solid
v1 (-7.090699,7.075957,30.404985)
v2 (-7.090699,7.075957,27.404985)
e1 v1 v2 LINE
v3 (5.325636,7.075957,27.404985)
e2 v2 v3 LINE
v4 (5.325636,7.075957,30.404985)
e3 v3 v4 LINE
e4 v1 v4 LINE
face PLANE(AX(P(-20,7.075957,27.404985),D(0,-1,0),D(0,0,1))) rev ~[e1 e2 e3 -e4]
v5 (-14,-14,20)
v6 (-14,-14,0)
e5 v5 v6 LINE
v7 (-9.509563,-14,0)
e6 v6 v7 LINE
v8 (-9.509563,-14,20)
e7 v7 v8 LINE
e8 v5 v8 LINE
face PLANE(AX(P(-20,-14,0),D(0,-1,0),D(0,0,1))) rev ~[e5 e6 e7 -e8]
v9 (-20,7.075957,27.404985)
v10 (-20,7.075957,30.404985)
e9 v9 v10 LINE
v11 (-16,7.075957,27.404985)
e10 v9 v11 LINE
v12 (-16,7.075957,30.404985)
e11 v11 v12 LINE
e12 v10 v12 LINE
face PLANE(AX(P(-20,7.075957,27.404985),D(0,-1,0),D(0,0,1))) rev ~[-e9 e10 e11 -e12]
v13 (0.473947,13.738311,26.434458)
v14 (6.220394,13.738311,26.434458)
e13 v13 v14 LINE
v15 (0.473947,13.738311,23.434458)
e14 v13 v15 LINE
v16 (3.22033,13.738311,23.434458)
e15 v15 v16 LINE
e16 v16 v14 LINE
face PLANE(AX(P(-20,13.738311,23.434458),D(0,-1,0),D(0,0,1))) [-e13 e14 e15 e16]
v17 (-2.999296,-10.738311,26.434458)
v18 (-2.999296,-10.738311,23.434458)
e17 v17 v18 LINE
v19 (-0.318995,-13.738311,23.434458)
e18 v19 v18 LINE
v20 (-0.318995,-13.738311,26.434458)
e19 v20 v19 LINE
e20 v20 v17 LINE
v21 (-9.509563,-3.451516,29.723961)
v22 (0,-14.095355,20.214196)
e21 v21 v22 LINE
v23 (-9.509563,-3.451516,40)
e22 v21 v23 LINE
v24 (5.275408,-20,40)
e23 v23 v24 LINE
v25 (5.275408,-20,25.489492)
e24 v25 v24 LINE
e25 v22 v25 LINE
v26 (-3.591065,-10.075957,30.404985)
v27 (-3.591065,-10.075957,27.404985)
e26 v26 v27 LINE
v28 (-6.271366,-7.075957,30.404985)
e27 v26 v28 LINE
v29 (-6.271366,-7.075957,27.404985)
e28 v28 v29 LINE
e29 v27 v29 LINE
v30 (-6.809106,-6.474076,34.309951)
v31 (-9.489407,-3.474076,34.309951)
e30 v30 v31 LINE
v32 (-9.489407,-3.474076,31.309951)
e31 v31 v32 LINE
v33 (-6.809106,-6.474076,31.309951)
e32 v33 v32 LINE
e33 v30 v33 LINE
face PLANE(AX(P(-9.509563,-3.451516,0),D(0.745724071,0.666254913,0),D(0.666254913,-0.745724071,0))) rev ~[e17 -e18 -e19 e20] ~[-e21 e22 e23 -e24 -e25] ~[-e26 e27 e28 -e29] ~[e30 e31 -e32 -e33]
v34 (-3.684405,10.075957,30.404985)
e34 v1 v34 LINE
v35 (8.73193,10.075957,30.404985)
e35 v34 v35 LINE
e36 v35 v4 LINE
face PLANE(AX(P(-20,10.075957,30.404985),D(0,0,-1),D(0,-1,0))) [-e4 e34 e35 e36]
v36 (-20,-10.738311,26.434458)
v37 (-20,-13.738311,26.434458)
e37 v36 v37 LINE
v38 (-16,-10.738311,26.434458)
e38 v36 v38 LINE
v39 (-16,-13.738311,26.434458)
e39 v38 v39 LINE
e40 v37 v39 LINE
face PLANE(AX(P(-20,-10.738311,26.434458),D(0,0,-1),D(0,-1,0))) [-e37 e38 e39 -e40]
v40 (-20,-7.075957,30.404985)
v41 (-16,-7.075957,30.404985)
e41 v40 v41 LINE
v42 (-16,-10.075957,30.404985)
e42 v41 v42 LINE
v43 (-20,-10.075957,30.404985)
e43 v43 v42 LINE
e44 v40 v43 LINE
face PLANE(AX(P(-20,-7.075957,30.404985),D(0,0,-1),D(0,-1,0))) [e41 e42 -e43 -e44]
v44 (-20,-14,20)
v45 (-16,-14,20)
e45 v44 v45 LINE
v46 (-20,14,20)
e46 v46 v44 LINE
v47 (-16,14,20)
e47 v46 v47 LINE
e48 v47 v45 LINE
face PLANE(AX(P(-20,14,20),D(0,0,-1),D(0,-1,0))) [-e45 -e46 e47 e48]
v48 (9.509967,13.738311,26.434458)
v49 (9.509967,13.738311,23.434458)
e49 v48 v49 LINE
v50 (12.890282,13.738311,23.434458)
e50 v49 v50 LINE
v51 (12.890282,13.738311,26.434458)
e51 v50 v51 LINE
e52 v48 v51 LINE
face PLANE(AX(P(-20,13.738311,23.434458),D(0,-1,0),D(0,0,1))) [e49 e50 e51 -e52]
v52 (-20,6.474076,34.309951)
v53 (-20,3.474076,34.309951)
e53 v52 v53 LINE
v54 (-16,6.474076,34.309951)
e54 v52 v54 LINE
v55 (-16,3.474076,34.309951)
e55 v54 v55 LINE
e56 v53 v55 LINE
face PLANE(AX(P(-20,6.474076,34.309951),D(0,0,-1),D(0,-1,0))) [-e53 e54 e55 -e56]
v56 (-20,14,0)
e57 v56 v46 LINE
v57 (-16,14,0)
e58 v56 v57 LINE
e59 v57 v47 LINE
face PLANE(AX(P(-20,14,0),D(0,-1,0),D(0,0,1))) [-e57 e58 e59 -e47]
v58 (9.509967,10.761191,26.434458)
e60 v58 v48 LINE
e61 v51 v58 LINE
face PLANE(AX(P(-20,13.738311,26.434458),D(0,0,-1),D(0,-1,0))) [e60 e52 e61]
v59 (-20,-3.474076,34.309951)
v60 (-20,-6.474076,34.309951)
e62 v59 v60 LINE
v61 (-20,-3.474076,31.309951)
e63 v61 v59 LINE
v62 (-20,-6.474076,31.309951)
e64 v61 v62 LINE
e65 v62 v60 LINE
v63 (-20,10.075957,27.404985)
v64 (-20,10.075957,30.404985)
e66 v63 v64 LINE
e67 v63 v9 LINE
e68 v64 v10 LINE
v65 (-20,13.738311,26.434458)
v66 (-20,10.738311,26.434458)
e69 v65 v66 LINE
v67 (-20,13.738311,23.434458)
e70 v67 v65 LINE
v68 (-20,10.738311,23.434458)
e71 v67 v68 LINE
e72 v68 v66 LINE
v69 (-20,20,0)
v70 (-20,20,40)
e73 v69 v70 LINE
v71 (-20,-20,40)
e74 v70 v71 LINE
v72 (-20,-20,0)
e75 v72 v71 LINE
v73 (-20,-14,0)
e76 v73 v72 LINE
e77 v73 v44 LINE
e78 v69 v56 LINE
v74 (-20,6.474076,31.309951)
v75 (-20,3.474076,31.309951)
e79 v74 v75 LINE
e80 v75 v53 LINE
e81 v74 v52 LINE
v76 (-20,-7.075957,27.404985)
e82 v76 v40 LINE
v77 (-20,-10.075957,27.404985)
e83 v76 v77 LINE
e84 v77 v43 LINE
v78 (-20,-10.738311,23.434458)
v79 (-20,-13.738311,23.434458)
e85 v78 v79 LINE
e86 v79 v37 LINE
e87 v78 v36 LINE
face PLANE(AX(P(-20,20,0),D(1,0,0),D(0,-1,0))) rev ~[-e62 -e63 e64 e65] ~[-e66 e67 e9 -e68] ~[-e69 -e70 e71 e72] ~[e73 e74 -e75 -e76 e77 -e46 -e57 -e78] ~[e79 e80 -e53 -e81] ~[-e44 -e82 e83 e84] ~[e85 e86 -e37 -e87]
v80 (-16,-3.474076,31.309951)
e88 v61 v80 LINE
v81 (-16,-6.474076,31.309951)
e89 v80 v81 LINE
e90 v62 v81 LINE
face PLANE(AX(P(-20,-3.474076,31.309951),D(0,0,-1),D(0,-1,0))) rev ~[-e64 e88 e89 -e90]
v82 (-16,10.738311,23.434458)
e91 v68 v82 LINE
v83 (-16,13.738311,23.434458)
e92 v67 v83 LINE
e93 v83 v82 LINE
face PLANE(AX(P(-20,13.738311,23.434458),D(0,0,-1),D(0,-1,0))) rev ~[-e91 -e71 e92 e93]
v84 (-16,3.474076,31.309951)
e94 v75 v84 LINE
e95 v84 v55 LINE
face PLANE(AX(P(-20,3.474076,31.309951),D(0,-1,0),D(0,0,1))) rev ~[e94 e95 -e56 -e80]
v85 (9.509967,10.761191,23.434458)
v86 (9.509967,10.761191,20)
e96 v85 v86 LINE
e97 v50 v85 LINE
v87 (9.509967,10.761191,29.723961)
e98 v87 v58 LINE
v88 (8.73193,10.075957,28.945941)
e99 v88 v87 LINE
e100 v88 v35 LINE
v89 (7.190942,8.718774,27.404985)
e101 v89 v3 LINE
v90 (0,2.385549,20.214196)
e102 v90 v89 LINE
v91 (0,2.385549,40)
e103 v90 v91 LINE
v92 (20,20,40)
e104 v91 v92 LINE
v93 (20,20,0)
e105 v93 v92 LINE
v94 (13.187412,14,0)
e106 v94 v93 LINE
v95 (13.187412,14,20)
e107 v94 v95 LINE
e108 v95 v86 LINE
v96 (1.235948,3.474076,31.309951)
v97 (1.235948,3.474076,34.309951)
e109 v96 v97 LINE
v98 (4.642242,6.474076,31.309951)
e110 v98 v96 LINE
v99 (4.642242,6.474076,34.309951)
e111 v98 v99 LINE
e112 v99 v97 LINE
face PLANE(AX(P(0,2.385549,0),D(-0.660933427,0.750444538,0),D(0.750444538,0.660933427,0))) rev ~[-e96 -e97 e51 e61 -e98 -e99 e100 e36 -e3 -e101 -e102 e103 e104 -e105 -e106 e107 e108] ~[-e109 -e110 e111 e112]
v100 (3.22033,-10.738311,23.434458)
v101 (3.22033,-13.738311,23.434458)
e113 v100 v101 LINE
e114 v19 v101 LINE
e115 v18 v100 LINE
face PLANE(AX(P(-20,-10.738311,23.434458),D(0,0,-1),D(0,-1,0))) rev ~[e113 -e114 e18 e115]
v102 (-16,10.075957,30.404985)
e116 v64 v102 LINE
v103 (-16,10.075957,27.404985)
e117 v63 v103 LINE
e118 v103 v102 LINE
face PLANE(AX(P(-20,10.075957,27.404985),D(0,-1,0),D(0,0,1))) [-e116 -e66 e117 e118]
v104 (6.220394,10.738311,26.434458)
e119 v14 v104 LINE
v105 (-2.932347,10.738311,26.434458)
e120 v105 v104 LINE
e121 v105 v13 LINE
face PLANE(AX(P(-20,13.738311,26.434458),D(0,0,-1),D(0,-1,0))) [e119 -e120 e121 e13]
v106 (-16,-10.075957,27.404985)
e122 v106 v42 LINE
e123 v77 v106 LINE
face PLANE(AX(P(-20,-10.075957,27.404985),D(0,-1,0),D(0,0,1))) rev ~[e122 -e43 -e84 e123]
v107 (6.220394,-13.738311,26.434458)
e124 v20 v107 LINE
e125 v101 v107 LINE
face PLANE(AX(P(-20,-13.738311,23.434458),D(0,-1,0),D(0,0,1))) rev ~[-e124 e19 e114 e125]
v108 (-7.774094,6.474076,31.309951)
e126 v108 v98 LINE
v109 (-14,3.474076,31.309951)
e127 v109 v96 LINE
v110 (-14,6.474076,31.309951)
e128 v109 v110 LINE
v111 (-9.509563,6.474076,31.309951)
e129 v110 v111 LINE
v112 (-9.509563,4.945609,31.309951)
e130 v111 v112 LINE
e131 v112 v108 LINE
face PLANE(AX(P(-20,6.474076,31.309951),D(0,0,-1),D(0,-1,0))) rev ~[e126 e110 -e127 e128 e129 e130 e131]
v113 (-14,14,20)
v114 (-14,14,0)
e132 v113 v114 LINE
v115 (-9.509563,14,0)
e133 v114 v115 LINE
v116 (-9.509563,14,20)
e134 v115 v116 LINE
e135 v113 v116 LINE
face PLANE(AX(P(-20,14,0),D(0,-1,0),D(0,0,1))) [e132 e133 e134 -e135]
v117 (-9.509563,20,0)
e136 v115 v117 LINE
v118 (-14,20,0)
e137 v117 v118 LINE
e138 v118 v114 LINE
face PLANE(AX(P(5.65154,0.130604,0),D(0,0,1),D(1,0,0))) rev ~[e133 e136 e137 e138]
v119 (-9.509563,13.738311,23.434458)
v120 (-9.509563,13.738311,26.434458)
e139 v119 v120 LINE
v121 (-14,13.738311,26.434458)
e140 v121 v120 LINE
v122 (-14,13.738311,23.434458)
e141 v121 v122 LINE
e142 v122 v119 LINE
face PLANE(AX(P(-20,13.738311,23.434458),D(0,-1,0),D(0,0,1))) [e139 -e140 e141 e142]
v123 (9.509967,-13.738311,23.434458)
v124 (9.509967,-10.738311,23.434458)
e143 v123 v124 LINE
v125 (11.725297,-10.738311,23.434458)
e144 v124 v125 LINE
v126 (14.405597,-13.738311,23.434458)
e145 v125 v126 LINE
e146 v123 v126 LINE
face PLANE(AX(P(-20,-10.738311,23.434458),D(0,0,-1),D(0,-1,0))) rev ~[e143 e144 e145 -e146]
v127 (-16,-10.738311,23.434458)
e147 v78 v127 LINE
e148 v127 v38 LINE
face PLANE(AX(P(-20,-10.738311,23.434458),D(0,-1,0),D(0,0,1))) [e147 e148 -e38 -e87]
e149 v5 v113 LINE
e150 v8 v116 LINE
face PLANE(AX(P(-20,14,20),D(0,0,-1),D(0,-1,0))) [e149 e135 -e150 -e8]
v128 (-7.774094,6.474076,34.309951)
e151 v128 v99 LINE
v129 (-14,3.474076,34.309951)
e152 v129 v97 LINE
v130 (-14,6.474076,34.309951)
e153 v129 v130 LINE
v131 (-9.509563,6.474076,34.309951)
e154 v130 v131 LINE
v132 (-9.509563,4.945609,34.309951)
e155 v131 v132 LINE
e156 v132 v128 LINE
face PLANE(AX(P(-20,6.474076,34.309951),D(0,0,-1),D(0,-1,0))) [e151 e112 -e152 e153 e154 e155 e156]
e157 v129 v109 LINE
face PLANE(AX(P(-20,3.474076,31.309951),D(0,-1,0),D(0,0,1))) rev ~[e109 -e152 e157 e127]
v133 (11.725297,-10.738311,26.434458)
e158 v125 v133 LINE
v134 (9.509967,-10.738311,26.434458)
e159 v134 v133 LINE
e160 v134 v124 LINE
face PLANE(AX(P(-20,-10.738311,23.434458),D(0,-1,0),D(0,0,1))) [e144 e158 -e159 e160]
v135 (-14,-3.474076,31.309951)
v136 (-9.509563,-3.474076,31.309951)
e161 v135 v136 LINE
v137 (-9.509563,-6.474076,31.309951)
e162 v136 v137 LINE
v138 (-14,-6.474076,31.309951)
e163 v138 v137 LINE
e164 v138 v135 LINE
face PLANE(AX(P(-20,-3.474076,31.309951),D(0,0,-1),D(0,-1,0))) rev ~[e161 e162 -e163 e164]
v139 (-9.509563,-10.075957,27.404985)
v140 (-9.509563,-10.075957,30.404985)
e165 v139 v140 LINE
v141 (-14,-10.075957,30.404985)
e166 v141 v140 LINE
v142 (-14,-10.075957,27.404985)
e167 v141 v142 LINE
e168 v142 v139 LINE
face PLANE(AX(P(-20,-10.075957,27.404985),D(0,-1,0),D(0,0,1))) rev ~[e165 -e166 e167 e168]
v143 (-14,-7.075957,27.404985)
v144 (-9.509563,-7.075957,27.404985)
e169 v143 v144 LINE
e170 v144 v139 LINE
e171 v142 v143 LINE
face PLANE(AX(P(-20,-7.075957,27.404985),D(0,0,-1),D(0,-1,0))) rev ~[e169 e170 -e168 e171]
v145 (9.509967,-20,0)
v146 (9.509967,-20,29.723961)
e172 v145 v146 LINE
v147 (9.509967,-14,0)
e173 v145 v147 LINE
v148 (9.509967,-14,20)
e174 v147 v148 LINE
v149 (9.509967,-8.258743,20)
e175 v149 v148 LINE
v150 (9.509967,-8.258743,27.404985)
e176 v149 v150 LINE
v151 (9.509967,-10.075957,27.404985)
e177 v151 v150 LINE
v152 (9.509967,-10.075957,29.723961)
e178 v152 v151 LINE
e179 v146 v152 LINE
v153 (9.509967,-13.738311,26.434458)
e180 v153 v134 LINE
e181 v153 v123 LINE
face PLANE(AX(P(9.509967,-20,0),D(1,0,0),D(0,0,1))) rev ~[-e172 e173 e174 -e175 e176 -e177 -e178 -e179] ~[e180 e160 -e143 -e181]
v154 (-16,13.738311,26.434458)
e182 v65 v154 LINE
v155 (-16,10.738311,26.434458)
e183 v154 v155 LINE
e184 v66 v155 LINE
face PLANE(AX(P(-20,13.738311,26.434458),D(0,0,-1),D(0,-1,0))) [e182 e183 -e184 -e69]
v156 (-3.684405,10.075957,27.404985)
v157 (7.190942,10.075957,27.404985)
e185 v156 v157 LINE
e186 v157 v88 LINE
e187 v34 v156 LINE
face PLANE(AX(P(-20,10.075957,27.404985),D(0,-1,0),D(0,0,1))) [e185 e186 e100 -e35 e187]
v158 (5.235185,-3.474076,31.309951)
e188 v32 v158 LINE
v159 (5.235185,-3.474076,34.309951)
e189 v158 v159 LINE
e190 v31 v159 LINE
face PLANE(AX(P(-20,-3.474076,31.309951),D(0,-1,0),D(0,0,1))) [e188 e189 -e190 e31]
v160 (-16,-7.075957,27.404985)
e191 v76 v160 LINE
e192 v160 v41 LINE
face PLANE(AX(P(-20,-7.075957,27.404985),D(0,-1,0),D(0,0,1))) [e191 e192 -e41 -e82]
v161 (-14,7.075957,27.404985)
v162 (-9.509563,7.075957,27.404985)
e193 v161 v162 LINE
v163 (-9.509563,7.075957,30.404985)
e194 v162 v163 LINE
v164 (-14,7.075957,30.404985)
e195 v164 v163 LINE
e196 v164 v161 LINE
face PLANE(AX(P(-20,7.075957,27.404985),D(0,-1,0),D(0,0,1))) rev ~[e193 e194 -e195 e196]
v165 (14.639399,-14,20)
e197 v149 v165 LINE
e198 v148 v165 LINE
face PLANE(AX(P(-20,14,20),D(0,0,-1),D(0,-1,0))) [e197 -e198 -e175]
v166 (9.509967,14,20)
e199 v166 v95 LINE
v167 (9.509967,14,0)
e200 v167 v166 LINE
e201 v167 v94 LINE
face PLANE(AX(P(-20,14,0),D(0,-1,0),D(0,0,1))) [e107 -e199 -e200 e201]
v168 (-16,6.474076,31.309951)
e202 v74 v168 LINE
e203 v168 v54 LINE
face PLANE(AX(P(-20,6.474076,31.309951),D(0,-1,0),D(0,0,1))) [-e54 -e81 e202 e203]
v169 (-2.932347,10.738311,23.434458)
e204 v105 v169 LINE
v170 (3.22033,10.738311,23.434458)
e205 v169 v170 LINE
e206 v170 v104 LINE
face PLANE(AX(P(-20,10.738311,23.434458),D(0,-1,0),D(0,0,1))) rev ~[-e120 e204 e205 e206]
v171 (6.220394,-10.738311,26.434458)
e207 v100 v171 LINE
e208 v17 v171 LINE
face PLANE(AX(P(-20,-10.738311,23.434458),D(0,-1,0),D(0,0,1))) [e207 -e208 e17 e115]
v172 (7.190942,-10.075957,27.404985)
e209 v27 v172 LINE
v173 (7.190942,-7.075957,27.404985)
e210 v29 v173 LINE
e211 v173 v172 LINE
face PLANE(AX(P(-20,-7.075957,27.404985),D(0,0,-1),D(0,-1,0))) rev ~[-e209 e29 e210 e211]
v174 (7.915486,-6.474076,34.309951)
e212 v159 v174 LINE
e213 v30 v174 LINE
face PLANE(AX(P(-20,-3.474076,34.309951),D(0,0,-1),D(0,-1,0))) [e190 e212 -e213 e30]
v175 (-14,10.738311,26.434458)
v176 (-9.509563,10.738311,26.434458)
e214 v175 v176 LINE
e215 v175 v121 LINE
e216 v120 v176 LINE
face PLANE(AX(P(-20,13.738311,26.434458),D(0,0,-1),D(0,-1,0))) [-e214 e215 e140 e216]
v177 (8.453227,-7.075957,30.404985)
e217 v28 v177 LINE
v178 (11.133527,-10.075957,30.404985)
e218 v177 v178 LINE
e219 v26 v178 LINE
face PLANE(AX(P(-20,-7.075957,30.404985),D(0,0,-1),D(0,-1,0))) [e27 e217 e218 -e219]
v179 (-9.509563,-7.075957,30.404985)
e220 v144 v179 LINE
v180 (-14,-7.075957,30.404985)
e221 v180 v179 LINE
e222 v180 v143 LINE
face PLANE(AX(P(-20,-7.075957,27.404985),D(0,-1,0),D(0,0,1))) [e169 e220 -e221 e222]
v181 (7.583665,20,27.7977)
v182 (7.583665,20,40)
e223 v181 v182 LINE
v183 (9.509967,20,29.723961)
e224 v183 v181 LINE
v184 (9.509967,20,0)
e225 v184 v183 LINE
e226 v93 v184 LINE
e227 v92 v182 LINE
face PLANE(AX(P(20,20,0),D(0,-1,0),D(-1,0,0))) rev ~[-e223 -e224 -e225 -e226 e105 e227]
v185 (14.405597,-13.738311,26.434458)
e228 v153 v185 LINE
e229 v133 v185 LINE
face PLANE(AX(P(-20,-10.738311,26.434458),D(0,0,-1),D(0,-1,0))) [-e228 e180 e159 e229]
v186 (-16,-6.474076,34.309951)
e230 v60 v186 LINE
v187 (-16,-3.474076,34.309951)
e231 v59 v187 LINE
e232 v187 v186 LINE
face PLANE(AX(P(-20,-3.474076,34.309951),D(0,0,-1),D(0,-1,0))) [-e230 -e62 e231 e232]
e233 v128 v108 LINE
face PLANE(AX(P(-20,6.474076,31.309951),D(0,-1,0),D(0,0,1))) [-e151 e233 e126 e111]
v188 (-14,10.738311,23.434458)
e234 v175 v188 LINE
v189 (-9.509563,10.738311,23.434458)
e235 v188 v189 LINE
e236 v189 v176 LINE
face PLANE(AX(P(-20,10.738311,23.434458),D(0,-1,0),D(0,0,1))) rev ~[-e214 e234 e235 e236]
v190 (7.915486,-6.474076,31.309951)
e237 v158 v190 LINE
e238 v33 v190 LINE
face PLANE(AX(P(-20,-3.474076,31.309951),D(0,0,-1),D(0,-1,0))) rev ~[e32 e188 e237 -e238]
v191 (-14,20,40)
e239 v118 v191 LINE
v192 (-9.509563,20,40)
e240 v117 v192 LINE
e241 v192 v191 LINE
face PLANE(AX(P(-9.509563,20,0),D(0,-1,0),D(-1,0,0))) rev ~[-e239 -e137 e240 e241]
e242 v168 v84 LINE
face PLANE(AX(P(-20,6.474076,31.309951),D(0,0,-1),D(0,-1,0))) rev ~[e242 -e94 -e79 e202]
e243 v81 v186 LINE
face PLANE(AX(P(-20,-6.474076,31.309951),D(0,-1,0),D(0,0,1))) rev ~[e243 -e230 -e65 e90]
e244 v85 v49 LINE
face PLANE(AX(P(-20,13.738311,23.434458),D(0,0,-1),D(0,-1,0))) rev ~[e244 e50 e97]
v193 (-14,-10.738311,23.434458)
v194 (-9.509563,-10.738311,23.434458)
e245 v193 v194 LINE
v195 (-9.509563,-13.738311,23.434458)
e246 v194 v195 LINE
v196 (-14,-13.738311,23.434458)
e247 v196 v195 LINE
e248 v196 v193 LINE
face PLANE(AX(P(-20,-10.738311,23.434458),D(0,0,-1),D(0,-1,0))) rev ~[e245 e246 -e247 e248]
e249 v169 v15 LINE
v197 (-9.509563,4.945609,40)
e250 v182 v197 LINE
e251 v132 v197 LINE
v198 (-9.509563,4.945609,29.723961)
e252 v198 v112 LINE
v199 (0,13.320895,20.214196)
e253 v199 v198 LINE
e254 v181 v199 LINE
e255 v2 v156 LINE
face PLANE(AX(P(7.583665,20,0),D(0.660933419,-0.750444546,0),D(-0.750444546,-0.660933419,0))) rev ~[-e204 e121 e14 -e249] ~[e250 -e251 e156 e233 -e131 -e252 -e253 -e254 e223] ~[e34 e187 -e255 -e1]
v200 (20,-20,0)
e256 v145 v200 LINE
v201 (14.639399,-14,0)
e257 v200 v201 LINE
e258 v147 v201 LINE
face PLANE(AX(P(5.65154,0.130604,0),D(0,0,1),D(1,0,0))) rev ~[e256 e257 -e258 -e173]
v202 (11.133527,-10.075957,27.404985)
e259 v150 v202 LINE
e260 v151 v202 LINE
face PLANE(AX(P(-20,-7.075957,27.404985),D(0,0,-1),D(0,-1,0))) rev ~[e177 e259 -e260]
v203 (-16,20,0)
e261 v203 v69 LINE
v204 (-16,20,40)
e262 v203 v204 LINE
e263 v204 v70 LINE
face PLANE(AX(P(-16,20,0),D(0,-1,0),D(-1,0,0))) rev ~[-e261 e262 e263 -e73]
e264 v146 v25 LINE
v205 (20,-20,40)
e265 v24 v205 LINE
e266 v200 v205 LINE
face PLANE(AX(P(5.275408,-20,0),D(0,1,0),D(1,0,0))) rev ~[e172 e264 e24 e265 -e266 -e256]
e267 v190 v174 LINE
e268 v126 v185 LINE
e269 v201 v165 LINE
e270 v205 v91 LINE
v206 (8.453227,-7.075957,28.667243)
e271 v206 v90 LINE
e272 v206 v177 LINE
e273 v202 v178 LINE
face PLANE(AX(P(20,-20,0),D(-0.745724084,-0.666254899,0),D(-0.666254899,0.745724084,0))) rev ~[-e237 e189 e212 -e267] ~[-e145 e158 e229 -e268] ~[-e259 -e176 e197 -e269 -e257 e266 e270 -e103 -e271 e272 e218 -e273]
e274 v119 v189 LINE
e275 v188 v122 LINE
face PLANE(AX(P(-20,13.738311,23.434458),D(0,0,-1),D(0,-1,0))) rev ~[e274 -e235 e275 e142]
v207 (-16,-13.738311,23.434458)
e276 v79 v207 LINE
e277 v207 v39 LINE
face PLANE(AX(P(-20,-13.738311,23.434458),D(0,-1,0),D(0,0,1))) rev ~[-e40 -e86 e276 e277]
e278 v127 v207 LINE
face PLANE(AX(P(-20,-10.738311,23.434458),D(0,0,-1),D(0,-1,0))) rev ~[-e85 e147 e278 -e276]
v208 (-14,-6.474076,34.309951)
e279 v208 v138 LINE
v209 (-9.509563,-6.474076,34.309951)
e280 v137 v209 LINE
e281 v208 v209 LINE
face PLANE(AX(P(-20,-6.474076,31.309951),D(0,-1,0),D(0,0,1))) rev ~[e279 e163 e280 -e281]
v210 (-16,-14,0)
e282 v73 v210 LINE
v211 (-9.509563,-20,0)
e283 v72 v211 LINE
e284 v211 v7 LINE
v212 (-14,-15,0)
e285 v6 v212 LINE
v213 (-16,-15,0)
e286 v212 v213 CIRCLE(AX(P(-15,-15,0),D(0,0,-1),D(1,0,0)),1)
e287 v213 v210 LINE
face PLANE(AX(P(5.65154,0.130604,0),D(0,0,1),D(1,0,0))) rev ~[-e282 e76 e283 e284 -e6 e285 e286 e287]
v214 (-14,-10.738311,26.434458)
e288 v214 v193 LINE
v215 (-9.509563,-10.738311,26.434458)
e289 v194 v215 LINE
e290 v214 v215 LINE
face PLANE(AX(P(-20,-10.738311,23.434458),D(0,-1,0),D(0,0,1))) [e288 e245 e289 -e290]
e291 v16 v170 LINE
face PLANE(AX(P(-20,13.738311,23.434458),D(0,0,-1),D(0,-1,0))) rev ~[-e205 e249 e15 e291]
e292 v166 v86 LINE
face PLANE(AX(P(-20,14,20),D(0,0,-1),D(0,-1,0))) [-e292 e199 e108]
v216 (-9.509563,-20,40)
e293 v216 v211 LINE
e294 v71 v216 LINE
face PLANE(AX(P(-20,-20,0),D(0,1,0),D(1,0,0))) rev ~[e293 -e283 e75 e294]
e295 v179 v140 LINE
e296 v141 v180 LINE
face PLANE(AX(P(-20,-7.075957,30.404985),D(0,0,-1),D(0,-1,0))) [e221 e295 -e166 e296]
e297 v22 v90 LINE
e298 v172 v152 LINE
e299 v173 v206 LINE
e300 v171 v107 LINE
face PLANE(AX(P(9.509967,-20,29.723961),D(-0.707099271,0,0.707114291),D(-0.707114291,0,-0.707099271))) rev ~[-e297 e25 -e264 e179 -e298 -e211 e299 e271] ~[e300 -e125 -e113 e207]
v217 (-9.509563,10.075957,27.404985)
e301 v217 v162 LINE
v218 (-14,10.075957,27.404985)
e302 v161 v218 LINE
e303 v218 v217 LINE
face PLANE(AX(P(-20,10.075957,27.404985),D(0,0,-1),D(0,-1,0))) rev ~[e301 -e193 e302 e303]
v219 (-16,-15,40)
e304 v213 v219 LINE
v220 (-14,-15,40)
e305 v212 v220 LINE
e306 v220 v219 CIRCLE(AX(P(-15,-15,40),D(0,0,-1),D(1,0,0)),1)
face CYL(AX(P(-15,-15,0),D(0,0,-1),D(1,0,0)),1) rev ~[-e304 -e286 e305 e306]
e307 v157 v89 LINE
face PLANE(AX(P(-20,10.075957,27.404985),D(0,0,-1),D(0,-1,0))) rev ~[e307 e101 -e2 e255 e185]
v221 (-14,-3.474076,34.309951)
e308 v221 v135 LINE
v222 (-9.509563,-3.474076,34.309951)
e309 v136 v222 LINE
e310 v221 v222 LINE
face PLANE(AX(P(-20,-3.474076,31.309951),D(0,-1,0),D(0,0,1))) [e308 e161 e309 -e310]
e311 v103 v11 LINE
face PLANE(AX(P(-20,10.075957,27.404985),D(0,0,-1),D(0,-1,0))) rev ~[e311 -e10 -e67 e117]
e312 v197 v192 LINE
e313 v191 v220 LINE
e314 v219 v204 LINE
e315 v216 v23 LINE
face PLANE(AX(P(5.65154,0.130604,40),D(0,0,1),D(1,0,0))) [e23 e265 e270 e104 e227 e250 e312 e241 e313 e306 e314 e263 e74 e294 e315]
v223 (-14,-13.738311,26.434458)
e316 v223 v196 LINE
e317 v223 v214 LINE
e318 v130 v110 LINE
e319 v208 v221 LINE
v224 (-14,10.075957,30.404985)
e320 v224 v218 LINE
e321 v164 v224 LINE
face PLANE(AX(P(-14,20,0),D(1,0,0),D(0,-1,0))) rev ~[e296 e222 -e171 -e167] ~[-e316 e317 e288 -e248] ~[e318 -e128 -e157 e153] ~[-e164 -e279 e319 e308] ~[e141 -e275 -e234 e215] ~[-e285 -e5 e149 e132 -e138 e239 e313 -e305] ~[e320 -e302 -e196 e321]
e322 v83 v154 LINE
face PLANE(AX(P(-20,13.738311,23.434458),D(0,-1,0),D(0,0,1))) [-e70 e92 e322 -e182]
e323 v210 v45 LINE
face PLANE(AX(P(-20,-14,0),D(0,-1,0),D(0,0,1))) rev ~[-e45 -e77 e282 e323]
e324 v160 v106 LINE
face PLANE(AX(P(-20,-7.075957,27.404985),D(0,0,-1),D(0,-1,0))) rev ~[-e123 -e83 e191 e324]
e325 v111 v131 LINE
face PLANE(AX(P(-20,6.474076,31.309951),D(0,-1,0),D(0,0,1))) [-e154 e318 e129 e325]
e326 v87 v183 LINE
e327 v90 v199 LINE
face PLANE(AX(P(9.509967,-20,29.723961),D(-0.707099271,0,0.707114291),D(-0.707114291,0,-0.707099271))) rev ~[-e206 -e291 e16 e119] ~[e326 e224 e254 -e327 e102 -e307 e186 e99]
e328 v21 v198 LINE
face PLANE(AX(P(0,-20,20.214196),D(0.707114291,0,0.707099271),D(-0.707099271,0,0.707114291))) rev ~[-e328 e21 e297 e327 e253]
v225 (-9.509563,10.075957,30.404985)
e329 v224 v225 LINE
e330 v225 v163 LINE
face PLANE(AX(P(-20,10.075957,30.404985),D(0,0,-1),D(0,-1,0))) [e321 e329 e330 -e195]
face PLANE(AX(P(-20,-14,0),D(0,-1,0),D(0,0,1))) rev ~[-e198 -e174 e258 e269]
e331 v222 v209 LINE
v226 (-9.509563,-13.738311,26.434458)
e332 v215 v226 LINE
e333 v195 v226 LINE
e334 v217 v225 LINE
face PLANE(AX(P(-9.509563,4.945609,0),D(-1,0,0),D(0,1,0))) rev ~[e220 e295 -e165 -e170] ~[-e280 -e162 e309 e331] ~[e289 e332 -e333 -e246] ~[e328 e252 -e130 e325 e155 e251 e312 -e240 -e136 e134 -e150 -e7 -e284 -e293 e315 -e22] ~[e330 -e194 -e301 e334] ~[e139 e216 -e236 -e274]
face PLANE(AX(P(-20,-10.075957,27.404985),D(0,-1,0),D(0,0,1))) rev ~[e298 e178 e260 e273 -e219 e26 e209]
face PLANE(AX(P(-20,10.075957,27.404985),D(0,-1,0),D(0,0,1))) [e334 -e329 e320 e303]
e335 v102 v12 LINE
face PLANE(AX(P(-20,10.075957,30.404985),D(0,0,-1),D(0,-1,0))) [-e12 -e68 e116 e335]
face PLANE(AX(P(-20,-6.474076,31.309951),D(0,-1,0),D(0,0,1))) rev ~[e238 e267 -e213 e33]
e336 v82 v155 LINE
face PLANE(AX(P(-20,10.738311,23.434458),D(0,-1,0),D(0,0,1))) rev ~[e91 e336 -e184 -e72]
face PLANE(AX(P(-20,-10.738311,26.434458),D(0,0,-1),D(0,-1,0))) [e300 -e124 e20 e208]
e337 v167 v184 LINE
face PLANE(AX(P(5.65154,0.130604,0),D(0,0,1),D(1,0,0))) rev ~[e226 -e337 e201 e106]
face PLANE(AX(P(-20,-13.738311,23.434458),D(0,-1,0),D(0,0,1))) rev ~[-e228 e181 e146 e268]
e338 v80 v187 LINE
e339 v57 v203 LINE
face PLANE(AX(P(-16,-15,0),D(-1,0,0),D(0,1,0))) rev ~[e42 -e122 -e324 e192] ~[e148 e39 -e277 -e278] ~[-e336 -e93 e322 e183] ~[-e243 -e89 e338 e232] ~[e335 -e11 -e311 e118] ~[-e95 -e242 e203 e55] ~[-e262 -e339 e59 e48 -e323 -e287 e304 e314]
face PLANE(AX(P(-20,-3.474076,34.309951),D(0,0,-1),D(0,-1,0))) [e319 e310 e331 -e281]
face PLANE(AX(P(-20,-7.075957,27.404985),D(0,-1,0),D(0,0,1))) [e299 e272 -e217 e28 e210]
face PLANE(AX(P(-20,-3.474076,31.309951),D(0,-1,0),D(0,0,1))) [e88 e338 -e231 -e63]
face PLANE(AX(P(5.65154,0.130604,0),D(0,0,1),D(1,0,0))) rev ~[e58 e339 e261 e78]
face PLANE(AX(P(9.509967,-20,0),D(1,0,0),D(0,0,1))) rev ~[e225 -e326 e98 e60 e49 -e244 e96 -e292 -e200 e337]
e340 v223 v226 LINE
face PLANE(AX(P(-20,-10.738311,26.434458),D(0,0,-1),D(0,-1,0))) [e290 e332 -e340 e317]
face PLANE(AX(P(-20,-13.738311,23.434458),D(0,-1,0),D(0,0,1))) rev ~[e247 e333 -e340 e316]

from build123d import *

# Parameters (mm, degrees)
F1_DEPTH = 40
F2_W     = 28
F2_H     = 20
F3_DEPTH = 40
F5_DEPTH = 40
F2_W_2   = 3
F2_H_2   = 3
F6_DEPTH = 40


with BuildPart() as f1:
    # F0 (on Top) → F1 (new body)
    with BuildSketch(Plane.XY):
        Polygon((0, 2.385549), (20, 20), (7.583665, 20), (-9.509563, 4.945609), (-9.509563, -3.451516), (5.275408, -20), (20, -20), align=None)
        with BuildLine():
            Line((-9.509563, 4.945609), (-9.509563, 20))
            Line((-9.509563, 20), (-14, 20))
            Line((-14, 20), (-14, -15))
            ThreePointArc((-14, -15), (-15, -16), (-16, -15))
            Line((-16, -15), (-16, 20))
            Line((-16, 20), (-20, 20))
            Line((-20, 20), (-20, -20))
            Line((-20, -20), (-9.509563, -20))
            Line((-9.509563, -20), (-9.509563, -3.451516))
            Line((-9.509563, -3.451516), (-9.509563, 4.945609))
        make_face()
    extrude(amount=F1_DEPTH)

    # F2 (on face) → F3 (cut)
    with BuildSketch(Plane(origin=(-20, 0, 0), x_dir=(0, -1, 0), z_dir=(-1, 0, 0))):
        with Locations((0, 10)):
            Rectangle(F2_W, F2_H)
    extrude(amount=-F3_DEPTH, mode=Mode.SUBTRACT)

    # F4 (on face) → F5 (cut)
    with BuildSketch(Plane.XZ.offset(20)):
        Polygon((9.509967, 29.723961), (0, 20.214196), (-9.509563, 29.723961), (-9.509563, 0), (9.509967, 0), align=None)
    extrude(amount=-F5_DEPTH, mode=Mode.SUBTRACT)

    # F2 (on face) → F6 (cut)
    with BuildSketch(Plane(origin=(-20, 0, 0), x_dir=(0, -1, 0), z_dir=(-1, 0, 0))):
        with Locations((-4.974076, 32.809951)):
            Rectangle(F2_W_2, F2_H_2)
        with Locations((4.974076, 32.809951)):
            Rectangle(F2_W_2, F2_H_2)
        with Locations((-8.575957, 28.904985)):
            Rectangle(F2_W_2, F2_H_2)
        with Locations((-12.238311, 24.934458)):
            Rectangle(F2_W_2, F2_H_2)
        with Locations((8.575957, 28.904985)):
            Rectangle(F2_W_2, F2_H_2)
        with Locations((12.238311, 24.934458)):
            Rectangle(F2_W_2, F2_H_2)
    extrude(amount=-F6_DEPTH, mode=Mode.SUBTRACT)


solid = f1.part
